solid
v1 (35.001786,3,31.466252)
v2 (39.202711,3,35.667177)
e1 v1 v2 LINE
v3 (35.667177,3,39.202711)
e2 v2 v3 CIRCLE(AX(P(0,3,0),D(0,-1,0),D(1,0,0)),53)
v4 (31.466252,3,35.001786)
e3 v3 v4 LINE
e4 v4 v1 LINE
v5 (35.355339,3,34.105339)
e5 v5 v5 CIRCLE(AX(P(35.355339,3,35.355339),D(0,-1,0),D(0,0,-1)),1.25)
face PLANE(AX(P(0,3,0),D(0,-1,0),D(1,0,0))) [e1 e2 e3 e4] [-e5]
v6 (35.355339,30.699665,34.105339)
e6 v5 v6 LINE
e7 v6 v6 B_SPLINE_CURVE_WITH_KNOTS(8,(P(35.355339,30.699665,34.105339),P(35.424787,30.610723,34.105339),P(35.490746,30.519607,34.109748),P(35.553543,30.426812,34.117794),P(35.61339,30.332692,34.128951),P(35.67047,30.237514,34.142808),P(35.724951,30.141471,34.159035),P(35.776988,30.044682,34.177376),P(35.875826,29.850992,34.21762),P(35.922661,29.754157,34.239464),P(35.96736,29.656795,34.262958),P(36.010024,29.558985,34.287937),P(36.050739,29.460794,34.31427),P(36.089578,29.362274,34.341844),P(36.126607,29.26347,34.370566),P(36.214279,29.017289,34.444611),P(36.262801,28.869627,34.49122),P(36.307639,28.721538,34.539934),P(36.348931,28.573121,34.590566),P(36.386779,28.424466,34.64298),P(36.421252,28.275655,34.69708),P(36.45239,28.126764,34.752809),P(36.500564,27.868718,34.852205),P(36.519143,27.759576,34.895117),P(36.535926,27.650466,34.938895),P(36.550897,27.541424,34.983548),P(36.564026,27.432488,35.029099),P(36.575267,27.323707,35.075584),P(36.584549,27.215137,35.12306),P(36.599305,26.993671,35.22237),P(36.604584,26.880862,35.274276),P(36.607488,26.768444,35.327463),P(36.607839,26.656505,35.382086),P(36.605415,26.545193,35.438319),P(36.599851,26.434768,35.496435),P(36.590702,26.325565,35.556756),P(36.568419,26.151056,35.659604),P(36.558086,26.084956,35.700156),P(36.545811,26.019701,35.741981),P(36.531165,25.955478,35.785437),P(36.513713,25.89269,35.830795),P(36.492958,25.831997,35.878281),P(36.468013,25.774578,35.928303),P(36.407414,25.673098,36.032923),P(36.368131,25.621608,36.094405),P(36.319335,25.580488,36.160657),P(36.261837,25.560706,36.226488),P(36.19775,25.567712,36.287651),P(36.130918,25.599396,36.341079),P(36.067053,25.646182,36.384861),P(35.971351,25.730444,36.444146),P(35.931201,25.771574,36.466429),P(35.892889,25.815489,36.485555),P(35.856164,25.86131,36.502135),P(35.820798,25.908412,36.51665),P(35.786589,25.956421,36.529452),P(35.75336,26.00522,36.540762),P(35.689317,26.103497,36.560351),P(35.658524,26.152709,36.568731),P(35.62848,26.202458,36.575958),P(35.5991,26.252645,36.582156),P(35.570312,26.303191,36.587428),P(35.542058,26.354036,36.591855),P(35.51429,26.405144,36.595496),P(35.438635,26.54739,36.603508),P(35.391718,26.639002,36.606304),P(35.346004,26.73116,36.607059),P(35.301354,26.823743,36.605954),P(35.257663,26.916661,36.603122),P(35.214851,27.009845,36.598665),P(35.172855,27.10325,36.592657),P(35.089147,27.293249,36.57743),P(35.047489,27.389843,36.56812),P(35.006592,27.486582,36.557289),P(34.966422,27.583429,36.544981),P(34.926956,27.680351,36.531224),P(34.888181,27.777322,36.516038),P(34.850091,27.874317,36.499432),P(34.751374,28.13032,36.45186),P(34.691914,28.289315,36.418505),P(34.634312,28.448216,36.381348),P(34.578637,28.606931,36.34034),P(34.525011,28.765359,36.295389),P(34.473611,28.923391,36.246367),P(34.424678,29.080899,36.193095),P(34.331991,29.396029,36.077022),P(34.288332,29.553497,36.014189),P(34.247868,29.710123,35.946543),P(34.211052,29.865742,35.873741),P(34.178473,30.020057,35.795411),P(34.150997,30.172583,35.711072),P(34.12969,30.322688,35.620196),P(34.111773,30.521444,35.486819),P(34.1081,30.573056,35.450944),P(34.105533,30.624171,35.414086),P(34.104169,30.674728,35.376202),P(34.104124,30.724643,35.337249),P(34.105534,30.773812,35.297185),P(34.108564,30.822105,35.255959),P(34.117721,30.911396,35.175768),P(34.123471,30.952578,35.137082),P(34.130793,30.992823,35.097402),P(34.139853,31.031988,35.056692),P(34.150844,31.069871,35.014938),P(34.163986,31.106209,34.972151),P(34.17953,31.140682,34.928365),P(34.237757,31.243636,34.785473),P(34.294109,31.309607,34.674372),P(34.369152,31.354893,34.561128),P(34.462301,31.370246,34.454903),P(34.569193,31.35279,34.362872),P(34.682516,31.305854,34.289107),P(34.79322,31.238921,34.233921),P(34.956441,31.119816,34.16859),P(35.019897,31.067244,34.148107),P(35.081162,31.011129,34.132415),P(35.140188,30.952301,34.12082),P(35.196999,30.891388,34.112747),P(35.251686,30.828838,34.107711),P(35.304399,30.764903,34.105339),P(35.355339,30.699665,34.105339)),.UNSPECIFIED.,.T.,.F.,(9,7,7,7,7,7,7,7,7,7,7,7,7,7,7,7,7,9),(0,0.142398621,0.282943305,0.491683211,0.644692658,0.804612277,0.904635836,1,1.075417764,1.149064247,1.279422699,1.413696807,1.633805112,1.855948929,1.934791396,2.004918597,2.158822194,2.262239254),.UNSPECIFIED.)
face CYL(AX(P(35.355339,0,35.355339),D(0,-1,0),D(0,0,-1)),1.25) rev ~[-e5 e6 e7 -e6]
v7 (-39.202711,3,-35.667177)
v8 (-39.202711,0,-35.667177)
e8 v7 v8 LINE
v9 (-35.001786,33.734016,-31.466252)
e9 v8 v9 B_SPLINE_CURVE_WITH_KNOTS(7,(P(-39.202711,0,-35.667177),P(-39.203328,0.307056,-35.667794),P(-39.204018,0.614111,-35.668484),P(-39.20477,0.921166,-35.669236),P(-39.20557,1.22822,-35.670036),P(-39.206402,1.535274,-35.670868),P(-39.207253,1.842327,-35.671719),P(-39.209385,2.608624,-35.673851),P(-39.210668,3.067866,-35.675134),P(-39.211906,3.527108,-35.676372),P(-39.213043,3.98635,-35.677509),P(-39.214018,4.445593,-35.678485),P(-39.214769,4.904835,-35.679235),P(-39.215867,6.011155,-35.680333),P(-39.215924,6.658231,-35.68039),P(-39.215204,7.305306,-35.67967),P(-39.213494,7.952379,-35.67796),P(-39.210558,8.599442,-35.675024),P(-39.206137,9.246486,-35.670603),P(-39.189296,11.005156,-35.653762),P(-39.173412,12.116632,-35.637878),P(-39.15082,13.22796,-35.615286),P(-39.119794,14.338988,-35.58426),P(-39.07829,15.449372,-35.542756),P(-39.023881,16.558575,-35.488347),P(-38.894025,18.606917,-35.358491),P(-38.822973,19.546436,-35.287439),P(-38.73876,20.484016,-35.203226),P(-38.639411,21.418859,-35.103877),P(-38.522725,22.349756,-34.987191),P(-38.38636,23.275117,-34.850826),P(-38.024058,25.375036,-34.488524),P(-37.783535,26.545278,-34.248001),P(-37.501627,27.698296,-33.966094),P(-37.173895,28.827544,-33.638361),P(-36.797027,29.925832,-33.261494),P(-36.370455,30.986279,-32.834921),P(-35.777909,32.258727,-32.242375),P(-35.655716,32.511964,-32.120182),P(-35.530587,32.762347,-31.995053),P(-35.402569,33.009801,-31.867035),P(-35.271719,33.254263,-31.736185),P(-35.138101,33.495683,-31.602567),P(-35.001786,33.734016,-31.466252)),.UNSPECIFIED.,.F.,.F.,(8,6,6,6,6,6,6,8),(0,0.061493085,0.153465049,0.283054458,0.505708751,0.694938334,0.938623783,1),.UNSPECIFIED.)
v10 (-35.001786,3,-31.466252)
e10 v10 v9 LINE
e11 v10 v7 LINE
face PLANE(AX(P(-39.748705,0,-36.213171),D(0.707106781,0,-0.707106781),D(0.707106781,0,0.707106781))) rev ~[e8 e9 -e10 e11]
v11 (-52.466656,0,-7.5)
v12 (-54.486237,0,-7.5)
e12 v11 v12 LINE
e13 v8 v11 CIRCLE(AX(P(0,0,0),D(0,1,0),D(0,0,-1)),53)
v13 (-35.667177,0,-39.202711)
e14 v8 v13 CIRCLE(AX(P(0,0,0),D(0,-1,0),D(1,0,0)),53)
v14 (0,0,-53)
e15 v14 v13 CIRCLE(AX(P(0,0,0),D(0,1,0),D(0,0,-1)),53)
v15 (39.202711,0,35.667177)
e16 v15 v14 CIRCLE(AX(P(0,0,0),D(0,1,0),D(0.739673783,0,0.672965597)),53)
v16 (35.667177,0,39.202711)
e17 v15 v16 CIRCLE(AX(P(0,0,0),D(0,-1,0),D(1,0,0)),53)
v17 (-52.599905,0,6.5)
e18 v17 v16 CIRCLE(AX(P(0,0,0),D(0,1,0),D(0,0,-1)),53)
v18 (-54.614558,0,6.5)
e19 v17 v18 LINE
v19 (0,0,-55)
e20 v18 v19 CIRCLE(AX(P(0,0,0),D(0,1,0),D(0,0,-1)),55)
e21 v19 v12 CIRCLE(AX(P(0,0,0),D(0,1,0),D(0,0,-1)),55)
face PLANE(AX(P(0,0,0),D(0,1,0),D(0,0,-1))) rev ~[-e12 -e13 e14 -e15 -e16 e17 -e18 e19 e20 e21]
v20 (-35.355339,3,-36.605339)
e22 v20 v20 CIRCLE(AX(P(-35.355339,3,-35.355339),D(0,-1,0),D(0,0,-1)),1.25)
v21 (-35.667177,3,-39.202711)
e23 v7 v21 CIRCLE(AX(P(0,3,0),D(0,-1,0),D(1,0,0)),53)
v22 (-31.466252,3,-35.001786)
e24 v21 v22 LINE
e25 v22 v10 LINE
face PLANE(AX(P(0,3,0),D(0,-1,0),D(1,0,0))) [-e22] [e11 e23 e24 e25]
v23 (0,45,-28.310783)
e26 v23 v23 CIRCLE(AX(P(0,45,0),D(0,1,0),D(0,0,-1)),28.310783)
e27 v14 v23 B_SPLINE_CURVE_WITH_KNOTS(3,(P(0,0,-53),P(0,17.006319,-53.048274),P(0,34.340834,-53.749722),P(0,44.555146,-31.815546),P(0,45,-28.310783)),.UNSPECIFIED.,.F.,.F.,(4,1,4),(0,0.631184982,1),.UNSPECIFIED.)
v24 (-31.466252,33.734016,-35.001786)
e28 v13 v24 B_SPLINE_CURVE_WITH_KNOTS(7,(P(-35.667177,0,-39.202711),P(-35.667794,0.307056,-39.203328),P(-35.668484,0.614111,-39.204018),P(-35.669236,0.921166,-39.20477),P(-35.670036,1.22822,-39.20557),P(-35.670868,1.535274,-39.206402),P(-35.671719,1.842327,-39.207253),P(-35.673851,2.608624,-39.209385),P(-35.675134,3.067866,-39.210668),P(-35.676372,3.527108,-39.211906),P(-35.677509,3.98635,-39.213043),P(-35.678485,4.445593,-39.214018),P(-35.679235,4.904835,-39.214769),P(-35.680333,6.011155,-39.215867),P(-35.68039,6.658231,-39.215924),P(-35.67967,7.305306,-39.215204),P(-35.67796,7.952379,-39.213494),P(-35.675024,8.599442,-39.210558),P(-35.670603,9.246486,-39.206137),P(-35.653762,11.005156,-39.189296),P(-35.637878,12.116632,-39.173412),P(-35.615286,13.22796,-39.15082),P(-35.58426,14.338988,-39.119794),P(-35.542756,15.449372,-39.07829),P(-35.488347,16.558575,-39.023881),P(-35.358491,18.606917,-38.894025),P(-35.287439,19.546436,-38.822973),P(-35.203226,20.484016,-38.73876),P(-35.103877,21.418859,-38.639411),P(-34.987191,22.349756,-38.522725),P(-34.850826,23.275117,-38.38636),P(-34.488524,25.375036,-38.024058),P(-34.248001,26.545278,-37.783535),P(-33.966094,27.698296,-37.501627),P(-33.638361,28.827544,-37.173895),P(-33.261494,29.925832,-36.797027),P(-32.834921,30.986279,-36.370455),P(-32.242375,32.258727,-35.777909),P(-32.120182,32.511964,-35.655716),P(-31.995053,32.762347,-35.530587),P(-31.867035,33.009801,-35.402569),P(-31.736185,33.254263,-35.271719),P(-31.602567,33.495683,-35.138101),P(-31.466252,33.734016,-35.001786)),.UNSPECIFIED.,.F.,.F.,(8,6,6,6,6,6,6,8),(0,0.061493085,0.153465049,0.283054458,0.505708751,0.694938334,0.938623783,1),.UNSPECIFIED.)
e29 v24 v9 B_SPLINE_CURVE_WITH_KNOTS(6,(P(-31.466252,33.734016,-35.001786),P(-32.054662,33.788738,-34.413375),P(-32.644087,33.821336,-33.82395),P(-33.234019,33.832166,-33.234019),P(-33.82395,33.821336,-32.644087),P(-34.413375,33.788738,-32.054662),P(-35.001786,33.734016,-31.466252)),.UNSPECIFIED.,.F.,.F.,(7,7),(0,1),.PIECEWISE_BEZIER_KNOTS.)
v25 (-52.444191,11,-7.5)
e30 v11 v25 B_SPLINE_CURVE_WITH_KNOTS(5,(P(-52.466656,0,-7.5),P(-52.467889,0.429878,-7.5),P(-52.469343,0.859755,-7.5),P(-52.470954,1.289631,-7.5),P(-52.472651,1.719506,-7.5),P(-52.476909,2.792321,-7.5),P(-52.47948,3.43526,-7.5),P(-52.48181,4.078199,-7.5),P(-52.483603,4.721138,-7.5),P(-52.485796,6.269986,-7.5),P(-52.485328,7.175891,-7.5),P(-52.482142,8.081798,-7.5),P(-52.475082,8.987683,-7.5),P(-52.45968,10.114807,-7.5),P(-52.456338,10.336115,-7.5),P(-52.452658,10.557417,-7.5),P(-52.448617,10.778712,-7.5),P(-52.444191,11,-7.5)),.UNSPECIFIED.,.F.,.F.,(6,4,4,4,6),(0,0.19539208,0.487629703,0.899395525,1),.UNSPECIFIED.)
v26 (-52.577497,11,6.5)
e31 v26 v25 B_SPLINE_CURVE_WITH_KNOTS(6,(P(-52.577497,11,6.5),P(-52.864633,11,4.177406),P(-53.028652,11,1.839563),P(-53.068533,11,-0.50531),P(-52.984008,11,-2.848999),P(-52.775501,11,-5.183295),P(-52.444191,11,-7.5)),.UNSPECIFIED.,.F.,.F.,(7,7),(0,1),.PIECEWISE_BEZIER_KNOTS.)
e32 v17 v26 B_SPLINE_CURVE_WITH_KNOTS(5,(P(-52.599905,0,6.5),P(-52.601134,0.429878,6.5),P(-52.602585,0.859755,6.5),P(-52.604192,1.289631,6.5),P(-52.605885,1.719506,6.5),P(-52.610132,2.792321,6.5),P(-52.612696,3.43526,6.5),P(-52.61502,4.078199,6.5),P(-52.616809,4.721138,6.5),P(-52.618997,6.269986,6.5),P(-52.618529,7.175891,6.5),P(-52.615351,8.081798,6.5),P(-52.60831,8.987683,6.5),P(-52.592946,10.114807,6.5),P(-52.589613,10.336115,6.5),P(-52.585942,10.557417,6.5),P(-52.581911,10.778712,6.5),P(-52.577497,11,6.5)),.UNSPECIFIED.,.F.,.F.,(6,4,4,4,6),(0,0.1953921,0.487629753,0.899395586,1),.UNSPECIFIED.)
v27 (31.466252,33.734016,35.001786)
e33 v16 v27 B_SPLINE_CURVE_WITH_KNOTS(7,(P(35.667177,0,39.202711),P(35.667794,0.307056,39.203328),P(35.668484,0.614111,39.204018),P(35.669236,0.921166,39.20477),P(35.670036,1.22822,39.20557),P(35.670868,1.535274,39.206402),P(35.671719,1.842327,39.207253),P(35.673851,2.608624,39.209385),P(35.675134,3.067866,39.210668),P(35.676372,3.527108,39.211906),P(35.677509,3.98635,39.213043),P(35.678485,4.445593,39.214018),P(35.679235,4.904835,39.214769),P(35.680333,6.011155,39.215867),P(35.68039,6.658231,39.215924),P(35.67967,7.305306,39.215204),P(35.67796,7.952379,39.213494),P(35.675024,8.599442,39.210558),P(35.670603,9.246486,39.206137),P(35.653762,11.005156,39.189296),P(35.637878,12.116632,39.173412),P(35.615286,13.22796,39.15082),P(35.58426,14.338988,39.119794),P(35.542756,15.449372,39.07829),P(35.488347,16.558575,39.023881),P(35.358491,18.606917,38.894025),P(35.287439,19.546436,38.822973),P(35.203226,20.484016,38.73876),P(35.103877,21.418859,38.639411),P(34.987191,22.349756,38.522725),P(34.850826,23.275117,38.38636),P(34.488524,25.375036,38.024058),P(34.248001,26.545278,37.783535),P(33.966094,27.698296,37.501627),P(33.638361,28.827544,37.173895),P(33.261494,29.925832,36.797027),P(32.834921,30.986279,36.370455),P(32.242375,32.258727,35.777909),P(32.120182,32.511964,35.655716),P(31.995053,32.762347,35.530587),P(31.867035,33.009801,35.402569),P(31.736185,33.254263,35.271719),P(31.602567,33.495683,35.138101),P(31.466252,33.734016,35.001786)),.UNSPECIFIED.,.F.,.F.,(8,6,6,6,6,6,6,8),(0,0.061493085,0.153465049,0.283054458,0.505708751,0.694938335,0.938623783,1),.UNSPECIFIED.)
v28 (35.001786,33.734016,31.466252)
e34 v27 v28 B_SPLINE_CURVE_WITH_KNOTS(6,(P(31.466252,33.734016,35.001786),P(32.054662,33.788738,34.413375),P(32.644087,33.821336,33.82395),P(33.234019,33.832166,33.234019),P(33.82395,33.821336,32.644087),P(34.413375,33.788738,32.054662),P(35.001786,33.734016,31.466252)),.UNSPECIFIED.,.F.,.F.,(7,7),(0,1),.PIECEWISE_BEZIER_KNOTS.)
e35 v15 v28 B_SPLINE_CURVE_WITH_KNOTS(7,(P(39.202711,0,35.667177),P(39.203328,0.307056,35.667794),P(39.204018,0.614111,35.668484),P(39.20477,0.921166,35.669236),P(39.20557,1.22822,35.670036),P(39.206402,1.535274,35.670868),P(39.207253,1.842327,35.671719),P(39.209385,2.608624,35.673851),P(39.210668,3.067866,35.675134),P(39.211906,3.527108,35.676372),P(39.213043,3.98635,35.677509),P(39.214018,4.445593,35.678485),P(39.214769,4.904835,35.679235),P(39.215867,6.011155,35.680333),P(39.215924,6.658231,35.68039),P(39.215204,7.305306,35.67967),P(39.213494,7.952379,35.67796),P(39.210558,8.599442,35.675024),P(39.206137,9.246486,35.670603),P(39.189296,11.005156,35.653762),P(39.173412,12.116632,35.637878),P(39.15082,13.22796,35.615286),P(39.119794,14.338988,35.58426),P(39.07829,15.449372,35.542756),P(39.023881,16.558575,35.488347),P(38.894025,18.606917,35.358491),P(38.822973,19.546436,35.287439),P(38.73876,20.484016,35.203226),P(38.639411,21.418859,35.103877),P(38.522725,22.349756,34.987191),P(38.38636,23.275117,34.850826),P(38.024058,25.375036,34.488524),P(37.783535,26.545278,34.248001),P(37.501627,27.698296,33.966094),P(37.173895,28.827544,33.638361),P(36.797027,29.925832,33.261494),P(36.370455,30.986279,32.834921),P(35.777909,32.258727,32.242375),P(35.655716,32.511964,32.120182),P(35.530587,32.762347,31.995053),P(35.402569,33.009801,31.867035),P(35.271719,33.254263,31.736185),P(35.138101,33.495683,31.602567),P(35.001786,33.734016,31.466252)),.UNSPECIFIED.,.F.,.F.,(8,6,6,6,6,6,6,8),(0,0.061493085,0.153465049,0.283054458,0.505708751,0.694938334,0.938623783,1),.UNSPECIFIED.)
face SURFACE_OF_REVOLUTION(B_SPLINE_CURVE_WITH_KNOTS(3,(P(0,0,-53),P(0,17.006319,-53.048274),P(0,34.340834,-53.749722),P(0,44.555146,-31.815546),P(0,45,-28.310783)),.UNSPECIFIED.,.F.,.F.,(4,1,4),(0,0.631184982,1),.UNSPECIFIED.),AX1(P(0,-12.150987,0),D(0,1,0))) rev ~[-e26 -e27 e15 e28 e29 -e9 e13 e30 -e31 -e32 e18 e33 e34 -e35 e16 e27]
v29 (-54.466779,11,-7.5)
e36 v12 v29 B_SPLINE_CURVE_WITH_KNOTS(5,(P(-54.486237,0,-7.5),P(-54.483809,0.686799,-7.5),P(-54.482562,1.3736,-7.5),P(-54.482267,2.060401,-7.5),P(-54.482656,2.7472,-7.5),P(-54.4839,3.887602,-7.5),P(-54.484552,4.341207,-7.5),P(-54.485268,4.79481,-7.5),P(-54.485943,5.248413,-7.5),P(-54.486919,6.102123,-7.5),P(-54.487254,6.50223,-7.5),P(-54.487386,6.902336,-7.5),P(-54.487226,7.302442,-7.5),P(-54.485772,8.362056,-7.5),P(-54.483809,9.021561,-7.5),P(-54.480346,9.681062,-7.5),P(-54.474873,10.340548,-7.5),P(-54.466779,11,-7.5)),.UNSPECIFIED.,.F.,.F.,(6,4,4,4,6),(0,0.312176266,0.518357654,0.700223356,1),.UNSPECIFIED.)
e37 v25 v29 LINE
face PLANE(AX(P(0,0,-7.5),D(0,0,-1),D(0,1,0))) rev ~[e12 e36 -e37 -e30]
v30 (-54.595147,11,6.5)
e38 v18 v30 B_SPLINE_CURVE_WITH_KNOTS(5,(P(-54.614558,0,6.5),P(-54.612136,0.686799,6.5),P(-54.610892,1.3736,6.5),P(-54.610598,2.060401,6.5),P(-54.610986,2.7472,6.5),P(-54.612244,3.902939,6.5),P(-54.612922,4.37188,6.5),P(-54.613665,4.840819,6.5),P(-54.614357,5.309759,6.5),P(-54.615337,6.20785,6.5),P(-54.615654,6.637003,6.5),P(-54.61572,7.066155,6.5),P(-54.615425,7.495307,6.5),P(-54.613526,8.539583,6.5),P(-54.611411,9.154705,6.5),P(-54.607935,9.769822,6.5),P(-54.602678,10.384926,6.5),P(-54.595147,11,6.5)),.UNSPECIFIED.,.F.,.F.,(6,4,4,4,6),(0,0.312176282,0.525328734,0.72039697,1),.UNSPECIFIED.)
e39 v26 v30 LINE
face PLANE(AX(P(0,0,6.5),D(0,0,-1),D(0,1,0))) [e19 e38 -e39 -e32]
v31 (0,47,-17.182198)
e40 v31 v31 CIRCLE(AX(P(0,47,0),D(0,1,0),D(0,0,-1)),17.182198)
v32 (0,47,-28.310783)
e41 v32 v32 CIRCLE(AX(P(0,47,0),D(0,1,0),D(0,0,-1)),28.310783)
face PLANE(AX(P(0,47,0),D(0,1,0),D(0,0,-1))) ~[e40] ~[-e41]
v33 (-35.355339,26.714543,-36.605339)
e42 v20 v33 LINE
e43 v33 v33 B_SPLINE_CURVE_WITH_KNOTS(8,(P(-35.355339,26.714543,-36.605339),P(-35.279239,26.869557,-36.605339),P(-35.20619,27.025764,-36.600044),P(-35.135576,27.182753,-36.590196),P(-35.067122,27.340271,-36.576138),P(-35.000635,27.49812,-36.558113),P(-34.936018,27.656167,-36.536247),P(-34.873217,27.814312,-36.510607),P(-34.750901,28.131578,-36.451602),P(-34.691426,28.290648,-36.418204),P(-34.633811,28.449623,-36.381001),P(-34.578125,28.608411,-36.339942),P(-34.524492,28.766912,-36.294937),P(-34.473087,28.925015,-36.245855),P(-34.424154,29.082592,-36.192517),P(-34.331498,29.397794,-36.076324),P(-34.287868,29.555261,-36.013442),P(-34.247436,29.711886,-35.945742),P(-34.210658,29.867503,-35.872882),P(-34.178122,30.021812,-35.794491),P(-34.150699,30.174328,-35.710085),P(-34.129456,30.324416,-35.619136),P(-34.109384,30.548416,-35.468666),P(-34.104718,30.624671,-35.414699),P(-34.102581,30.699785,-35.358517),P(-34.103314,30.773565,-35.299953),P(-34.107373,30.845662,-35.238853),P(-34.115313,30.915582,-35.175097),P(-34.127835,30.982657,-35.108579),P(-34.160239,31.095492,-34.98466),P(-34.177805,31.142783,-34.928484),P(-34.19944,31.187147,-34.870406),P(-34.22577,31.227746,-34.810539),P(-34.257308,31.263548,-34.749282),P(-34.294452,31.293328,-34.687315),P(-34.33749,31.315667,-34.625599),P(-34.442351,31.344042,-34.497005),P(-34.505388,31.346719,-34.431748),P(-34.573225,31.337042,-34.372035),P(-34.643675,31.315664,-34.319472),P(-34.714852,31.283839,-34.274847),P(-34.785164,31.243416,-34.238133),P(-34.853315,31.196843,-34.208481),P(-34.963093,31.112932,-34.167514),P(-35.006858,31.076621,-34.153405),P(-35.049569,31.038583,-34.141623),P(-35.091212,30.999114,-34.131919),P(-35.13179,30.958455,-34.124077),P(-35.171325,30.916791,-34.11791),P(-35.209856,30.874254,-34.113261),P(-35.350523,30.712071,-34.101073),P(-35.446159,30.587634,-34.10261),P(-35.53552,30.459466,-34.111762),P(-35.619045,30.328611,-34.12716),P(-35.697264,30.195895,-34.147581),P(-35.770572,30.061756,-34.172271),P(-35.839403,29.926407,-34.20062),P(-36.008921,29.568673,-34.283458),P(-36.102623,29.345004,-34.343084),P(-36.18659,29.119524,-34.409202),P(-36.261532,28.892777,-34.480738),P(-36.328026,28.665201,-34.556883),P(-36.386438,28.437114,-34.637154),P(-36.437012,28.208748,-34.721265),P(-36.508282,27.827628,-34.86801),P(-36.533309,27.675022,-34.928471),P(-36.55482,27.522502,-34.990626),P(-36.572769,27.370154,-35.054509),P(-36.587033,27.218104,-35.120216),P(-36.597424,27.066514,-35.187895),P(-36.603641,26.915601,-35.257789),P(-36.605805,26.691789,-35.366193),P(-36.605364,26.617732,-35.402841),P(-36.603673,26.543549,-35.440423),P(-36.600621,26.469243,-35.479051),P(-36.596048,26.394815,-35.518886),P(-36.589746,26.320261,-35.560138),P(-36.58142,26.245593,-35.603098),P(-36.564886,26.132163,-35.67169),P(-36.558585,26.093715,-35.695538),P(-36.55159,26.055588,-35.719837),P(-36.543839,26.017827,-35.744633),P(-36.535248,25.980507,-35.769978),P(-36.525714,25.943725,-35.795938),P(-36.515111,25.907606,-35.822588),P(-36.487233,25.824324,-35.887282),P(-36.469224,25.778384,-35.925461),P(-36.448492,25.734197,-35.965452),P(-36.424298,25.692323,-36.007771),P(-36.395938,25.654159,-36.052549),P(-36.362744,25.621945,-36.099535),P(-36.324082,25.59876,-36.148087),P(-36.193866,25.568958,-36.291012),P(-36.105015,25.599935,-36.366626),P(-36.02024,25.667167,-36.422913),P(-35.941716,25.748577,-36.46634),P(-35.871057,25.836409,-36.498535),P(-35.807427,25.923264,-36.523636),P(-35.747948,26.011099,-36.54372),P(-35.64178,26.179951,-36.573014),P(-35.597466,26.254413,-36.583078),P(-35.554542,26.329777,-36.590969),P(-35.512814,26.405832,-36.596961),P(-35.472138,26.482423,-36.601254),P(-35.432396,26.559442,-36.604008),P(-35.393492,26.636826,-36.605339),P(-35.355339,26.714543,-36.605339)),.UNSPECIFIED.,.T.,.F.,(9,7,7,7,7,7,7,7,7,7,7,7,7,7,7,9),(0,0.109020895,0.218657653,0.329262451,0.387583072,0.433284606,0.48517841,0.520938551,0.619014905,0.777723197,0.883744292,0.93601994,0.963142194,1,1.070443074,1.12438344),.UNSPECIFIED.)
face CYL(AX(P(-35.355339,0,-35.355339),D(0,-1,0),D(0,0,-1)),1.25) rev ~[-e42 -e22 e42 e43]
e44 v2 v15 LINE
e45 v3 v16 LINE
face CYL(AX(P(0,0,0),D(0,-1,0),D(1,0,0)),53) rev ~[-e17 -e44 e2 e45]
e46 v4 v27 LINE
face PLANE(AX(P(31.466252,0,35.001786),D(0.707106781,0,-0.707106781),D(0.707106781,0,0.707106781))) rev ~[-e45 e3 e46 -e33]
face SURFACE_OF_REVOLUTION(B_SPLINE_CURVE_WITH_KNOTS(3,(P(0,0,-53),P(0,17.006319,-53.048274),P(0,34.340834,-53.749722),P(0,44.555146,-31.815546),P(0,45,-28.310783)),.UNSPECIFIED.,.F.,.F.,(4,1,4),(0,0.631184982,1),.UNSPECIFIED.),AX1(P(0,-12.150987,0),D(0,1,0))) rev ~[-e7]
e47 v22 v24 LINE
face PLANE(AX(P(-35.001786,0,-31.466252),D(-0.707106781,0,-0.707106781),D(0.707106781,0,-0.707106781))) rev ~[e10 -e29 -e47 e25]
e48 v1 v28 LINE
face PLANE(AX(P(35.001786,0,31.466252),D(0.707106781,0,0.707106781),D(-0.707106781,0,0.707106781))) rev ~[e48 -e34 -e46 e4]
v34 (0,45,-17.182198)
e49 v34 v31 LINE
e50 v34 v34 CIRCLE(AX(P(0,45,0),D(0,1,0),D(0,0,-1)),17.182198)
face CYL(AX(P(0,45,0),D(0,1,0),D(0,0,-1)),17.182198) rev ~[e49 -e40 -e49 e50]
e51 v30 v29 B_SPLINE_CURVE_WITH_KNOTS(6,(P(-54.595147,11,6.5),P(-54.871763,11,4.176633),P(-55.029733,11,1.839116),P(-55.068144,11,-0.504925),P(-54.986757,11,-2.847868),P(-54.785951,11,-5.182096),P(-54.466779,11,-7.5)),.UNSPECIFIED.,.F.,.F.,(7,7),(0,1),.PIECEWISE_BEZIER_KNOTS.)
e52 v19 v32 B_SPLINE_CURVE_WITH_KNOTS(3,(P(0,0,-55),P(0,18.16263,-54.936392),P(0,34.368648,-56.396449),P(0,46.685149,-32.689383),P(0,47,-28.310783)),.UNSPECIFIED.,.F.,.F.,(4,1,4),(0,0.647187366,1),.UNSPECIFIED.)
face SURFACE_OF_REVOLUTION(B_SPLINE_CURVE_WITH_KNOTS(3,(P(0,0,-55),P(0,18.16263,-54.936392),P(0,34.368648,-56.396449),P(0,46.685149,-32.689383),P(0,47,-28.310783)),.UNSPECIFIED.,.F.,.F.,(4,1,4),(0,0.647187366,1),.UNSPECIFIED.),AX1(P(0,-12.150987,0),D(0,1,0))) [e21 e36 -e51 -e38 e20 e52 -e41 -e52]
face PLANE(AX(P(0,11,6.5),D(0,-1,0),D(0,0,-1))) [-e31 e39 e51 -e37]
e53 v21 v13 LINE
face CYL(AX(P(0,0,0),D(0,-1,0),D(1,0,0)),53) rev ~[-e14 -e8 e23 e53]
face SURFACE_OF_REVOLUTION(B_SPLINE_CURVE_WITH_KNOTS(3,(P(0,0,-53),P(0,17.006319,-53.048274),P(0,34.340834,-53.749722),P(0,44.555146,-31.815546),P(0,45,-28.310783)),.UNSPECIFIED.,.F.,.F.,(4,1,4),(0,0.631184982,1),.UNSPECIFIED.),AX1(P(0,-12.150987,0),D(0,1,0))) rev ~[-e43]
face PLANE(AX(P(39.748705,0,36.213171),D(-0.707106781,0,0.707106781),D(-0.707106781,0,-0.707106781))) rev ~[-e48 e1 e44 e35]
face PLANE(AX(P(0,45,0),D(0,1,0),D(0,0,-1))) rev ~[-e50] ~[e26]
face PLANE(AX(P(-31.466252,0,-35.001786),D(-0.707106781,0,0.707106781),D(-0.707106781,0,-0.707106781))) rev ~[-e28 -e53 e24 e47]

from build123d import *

# Parameters (mm, degrees)
AUFSATZ_LINEAR_AUSTRAGEN3_REACH = 92.88
SKIZZE2_R                       = 1.25
SKIZZE3_R                       = 53
SCHNITT_LINEAR_AUSTRAGEN1_DEPTH = 3
SCHNITT_LINEAR_AUSTRAGEN2_REACH = 92.88
SKIZZE4_W                       = 14
SKIZZE4_H                       = 11


with BuildPart() as part:
    # Skizze1 → Rotation1 (revolve)
    with BuildSketch(Plane.XY, mode=Mode.PRIVATE) as rotation1_sk:
        with BuildLine():
            Line((55, 0), (53, 0))
            add(Edge.make_bspline(
                [(53, 0), (53.048273889, 17.0063194), (53.749722024, 34.340834234), (31.815546139, 44.555146008), (28.310782841, 45)],
                knots=[0, 0, 0, 0, 0.631184982, 1, 1, 1, 1], degree=3))
            Line((28.310782841, 45), (17.182197797, 45))
            Line((17.182197797, 45), (17.182197797, 47))
            Line((17.182197797, 47), (28.310782841, 47))
            add(Edge.make_bspline(
                [(55, 0), (54.936392328, 18.162630291), (56.396449466, 34.368648063), (32.689382739, 46.685149183), (28.310782841, 47)],
                knots=[0, 0, 0, 0, 0.647187366, 1, 1, 1, 1], degree=3))
        make_face()
    revolve(rotation1_sk.sketch.rotate(Axis((0, -12.15098687, 0), (0, 1, 0)), 90), axis=Axis((0, -12.15098687, 0), (0, 1, 0)))

    # Skizze2 → Aufsatz-Linear austragen3 (add, up to next)
    with BuildSketch(Plane.XZ, mode=Mode.PRIVATE) as aufsatz_linear_austragen3_sk1:
        Polygon((31.466251763, 35.001785669), (36.213171094, 39.748705), (39.748705, 36.213171094), (35.001785669, 31.466251763), align=None)
        with Locations(Location((35.355339059, 35.355339059, 0), (0, 0, 270))):
            Circle(SKIZZE2_R, mode=Mode.SUBTRACT)
    aufsatz_linear_austragen3_tool1 = extrude(aufsatz_linear_austragen3_sk1.sketch, amount=-AUFSATZ_LINEAR_AUSTRAGEN3_REACH, mode=Mode.PRIVATE) - part.part
    # Skizze2 → Aufsatz-Linear austragen3 (add, up to next)
    with BuildSketch(Plane.XZ, mode=Mode.PRIVATE) as aufsatz_linear_austragen3_sk2:
        Polygon((-31.466251763, -35.001785669), (-36.213171094, -39.748705), (-39.748705, -36.213171094), (-35.001785669, -31.466251763), align=None)
        with Locations(Location((-35.355339059, -35.355339059, 0), (0, 0, 270))):
            Circle(SKIZZE2_R, mode=Mode.SUBTRACT)
    aufsatz_linear_austragen3_tool2 = extrude(aufsatz_linear_austragen3_sk2.sketch, amount=-AUFSATZ_LINEAR_AUSTRAGEN3_REACH, mode=Mode.PRIVATE) - part.part
    add(aufsatz_linear_austragen3_tool1.solids().sort_by_distance((33.922536, 0, 37.292421))[0])
    add(aufsatz_linear_austragen3_tool2.solids().sort_by_distance((-33.922536, 0, -37.292421))[0])

    # Skizze3 → Schnitt-Linear austragen1 (cut)
    with BuildSketch(Plane.XZ):
        Circle(SKIZZE3_R)
    extrude(amount=-SCHNITT_LINEAR_AUSTRAGEN1_DEPTH, mode=Mode.SUBTRACT)

    # Skizze4 → Schnitt-Linear austragen2 (cut, up to next)
    with BuildSketch(Plane(origin=(0, 0, 0), x_dir=(0, 0, -1), z_dir=(1, 0, 0)), mode=Mode.PRIVATE) as schnitt_linear_austragen2_sk1:
        with Locations((0.5, 5.5)):
            Rectangle(SKIZZE4_W, SKIZZE4_H)
    schnitt_linear_austragen2_tool1 = extrude(schnitt_linear_austragen2_sk1.sketch, amount=-SCHNITT_LINEAR_AUSTRAGEN2_REACH, mode=Mode.PRIVATE) & part.part
    add(schnitt_linear_austragen2_tool1.solids().sort_by_distance((0, 5.5, -0.5))[0], mode=Mode.SUBTRACT)


solid = part.part
